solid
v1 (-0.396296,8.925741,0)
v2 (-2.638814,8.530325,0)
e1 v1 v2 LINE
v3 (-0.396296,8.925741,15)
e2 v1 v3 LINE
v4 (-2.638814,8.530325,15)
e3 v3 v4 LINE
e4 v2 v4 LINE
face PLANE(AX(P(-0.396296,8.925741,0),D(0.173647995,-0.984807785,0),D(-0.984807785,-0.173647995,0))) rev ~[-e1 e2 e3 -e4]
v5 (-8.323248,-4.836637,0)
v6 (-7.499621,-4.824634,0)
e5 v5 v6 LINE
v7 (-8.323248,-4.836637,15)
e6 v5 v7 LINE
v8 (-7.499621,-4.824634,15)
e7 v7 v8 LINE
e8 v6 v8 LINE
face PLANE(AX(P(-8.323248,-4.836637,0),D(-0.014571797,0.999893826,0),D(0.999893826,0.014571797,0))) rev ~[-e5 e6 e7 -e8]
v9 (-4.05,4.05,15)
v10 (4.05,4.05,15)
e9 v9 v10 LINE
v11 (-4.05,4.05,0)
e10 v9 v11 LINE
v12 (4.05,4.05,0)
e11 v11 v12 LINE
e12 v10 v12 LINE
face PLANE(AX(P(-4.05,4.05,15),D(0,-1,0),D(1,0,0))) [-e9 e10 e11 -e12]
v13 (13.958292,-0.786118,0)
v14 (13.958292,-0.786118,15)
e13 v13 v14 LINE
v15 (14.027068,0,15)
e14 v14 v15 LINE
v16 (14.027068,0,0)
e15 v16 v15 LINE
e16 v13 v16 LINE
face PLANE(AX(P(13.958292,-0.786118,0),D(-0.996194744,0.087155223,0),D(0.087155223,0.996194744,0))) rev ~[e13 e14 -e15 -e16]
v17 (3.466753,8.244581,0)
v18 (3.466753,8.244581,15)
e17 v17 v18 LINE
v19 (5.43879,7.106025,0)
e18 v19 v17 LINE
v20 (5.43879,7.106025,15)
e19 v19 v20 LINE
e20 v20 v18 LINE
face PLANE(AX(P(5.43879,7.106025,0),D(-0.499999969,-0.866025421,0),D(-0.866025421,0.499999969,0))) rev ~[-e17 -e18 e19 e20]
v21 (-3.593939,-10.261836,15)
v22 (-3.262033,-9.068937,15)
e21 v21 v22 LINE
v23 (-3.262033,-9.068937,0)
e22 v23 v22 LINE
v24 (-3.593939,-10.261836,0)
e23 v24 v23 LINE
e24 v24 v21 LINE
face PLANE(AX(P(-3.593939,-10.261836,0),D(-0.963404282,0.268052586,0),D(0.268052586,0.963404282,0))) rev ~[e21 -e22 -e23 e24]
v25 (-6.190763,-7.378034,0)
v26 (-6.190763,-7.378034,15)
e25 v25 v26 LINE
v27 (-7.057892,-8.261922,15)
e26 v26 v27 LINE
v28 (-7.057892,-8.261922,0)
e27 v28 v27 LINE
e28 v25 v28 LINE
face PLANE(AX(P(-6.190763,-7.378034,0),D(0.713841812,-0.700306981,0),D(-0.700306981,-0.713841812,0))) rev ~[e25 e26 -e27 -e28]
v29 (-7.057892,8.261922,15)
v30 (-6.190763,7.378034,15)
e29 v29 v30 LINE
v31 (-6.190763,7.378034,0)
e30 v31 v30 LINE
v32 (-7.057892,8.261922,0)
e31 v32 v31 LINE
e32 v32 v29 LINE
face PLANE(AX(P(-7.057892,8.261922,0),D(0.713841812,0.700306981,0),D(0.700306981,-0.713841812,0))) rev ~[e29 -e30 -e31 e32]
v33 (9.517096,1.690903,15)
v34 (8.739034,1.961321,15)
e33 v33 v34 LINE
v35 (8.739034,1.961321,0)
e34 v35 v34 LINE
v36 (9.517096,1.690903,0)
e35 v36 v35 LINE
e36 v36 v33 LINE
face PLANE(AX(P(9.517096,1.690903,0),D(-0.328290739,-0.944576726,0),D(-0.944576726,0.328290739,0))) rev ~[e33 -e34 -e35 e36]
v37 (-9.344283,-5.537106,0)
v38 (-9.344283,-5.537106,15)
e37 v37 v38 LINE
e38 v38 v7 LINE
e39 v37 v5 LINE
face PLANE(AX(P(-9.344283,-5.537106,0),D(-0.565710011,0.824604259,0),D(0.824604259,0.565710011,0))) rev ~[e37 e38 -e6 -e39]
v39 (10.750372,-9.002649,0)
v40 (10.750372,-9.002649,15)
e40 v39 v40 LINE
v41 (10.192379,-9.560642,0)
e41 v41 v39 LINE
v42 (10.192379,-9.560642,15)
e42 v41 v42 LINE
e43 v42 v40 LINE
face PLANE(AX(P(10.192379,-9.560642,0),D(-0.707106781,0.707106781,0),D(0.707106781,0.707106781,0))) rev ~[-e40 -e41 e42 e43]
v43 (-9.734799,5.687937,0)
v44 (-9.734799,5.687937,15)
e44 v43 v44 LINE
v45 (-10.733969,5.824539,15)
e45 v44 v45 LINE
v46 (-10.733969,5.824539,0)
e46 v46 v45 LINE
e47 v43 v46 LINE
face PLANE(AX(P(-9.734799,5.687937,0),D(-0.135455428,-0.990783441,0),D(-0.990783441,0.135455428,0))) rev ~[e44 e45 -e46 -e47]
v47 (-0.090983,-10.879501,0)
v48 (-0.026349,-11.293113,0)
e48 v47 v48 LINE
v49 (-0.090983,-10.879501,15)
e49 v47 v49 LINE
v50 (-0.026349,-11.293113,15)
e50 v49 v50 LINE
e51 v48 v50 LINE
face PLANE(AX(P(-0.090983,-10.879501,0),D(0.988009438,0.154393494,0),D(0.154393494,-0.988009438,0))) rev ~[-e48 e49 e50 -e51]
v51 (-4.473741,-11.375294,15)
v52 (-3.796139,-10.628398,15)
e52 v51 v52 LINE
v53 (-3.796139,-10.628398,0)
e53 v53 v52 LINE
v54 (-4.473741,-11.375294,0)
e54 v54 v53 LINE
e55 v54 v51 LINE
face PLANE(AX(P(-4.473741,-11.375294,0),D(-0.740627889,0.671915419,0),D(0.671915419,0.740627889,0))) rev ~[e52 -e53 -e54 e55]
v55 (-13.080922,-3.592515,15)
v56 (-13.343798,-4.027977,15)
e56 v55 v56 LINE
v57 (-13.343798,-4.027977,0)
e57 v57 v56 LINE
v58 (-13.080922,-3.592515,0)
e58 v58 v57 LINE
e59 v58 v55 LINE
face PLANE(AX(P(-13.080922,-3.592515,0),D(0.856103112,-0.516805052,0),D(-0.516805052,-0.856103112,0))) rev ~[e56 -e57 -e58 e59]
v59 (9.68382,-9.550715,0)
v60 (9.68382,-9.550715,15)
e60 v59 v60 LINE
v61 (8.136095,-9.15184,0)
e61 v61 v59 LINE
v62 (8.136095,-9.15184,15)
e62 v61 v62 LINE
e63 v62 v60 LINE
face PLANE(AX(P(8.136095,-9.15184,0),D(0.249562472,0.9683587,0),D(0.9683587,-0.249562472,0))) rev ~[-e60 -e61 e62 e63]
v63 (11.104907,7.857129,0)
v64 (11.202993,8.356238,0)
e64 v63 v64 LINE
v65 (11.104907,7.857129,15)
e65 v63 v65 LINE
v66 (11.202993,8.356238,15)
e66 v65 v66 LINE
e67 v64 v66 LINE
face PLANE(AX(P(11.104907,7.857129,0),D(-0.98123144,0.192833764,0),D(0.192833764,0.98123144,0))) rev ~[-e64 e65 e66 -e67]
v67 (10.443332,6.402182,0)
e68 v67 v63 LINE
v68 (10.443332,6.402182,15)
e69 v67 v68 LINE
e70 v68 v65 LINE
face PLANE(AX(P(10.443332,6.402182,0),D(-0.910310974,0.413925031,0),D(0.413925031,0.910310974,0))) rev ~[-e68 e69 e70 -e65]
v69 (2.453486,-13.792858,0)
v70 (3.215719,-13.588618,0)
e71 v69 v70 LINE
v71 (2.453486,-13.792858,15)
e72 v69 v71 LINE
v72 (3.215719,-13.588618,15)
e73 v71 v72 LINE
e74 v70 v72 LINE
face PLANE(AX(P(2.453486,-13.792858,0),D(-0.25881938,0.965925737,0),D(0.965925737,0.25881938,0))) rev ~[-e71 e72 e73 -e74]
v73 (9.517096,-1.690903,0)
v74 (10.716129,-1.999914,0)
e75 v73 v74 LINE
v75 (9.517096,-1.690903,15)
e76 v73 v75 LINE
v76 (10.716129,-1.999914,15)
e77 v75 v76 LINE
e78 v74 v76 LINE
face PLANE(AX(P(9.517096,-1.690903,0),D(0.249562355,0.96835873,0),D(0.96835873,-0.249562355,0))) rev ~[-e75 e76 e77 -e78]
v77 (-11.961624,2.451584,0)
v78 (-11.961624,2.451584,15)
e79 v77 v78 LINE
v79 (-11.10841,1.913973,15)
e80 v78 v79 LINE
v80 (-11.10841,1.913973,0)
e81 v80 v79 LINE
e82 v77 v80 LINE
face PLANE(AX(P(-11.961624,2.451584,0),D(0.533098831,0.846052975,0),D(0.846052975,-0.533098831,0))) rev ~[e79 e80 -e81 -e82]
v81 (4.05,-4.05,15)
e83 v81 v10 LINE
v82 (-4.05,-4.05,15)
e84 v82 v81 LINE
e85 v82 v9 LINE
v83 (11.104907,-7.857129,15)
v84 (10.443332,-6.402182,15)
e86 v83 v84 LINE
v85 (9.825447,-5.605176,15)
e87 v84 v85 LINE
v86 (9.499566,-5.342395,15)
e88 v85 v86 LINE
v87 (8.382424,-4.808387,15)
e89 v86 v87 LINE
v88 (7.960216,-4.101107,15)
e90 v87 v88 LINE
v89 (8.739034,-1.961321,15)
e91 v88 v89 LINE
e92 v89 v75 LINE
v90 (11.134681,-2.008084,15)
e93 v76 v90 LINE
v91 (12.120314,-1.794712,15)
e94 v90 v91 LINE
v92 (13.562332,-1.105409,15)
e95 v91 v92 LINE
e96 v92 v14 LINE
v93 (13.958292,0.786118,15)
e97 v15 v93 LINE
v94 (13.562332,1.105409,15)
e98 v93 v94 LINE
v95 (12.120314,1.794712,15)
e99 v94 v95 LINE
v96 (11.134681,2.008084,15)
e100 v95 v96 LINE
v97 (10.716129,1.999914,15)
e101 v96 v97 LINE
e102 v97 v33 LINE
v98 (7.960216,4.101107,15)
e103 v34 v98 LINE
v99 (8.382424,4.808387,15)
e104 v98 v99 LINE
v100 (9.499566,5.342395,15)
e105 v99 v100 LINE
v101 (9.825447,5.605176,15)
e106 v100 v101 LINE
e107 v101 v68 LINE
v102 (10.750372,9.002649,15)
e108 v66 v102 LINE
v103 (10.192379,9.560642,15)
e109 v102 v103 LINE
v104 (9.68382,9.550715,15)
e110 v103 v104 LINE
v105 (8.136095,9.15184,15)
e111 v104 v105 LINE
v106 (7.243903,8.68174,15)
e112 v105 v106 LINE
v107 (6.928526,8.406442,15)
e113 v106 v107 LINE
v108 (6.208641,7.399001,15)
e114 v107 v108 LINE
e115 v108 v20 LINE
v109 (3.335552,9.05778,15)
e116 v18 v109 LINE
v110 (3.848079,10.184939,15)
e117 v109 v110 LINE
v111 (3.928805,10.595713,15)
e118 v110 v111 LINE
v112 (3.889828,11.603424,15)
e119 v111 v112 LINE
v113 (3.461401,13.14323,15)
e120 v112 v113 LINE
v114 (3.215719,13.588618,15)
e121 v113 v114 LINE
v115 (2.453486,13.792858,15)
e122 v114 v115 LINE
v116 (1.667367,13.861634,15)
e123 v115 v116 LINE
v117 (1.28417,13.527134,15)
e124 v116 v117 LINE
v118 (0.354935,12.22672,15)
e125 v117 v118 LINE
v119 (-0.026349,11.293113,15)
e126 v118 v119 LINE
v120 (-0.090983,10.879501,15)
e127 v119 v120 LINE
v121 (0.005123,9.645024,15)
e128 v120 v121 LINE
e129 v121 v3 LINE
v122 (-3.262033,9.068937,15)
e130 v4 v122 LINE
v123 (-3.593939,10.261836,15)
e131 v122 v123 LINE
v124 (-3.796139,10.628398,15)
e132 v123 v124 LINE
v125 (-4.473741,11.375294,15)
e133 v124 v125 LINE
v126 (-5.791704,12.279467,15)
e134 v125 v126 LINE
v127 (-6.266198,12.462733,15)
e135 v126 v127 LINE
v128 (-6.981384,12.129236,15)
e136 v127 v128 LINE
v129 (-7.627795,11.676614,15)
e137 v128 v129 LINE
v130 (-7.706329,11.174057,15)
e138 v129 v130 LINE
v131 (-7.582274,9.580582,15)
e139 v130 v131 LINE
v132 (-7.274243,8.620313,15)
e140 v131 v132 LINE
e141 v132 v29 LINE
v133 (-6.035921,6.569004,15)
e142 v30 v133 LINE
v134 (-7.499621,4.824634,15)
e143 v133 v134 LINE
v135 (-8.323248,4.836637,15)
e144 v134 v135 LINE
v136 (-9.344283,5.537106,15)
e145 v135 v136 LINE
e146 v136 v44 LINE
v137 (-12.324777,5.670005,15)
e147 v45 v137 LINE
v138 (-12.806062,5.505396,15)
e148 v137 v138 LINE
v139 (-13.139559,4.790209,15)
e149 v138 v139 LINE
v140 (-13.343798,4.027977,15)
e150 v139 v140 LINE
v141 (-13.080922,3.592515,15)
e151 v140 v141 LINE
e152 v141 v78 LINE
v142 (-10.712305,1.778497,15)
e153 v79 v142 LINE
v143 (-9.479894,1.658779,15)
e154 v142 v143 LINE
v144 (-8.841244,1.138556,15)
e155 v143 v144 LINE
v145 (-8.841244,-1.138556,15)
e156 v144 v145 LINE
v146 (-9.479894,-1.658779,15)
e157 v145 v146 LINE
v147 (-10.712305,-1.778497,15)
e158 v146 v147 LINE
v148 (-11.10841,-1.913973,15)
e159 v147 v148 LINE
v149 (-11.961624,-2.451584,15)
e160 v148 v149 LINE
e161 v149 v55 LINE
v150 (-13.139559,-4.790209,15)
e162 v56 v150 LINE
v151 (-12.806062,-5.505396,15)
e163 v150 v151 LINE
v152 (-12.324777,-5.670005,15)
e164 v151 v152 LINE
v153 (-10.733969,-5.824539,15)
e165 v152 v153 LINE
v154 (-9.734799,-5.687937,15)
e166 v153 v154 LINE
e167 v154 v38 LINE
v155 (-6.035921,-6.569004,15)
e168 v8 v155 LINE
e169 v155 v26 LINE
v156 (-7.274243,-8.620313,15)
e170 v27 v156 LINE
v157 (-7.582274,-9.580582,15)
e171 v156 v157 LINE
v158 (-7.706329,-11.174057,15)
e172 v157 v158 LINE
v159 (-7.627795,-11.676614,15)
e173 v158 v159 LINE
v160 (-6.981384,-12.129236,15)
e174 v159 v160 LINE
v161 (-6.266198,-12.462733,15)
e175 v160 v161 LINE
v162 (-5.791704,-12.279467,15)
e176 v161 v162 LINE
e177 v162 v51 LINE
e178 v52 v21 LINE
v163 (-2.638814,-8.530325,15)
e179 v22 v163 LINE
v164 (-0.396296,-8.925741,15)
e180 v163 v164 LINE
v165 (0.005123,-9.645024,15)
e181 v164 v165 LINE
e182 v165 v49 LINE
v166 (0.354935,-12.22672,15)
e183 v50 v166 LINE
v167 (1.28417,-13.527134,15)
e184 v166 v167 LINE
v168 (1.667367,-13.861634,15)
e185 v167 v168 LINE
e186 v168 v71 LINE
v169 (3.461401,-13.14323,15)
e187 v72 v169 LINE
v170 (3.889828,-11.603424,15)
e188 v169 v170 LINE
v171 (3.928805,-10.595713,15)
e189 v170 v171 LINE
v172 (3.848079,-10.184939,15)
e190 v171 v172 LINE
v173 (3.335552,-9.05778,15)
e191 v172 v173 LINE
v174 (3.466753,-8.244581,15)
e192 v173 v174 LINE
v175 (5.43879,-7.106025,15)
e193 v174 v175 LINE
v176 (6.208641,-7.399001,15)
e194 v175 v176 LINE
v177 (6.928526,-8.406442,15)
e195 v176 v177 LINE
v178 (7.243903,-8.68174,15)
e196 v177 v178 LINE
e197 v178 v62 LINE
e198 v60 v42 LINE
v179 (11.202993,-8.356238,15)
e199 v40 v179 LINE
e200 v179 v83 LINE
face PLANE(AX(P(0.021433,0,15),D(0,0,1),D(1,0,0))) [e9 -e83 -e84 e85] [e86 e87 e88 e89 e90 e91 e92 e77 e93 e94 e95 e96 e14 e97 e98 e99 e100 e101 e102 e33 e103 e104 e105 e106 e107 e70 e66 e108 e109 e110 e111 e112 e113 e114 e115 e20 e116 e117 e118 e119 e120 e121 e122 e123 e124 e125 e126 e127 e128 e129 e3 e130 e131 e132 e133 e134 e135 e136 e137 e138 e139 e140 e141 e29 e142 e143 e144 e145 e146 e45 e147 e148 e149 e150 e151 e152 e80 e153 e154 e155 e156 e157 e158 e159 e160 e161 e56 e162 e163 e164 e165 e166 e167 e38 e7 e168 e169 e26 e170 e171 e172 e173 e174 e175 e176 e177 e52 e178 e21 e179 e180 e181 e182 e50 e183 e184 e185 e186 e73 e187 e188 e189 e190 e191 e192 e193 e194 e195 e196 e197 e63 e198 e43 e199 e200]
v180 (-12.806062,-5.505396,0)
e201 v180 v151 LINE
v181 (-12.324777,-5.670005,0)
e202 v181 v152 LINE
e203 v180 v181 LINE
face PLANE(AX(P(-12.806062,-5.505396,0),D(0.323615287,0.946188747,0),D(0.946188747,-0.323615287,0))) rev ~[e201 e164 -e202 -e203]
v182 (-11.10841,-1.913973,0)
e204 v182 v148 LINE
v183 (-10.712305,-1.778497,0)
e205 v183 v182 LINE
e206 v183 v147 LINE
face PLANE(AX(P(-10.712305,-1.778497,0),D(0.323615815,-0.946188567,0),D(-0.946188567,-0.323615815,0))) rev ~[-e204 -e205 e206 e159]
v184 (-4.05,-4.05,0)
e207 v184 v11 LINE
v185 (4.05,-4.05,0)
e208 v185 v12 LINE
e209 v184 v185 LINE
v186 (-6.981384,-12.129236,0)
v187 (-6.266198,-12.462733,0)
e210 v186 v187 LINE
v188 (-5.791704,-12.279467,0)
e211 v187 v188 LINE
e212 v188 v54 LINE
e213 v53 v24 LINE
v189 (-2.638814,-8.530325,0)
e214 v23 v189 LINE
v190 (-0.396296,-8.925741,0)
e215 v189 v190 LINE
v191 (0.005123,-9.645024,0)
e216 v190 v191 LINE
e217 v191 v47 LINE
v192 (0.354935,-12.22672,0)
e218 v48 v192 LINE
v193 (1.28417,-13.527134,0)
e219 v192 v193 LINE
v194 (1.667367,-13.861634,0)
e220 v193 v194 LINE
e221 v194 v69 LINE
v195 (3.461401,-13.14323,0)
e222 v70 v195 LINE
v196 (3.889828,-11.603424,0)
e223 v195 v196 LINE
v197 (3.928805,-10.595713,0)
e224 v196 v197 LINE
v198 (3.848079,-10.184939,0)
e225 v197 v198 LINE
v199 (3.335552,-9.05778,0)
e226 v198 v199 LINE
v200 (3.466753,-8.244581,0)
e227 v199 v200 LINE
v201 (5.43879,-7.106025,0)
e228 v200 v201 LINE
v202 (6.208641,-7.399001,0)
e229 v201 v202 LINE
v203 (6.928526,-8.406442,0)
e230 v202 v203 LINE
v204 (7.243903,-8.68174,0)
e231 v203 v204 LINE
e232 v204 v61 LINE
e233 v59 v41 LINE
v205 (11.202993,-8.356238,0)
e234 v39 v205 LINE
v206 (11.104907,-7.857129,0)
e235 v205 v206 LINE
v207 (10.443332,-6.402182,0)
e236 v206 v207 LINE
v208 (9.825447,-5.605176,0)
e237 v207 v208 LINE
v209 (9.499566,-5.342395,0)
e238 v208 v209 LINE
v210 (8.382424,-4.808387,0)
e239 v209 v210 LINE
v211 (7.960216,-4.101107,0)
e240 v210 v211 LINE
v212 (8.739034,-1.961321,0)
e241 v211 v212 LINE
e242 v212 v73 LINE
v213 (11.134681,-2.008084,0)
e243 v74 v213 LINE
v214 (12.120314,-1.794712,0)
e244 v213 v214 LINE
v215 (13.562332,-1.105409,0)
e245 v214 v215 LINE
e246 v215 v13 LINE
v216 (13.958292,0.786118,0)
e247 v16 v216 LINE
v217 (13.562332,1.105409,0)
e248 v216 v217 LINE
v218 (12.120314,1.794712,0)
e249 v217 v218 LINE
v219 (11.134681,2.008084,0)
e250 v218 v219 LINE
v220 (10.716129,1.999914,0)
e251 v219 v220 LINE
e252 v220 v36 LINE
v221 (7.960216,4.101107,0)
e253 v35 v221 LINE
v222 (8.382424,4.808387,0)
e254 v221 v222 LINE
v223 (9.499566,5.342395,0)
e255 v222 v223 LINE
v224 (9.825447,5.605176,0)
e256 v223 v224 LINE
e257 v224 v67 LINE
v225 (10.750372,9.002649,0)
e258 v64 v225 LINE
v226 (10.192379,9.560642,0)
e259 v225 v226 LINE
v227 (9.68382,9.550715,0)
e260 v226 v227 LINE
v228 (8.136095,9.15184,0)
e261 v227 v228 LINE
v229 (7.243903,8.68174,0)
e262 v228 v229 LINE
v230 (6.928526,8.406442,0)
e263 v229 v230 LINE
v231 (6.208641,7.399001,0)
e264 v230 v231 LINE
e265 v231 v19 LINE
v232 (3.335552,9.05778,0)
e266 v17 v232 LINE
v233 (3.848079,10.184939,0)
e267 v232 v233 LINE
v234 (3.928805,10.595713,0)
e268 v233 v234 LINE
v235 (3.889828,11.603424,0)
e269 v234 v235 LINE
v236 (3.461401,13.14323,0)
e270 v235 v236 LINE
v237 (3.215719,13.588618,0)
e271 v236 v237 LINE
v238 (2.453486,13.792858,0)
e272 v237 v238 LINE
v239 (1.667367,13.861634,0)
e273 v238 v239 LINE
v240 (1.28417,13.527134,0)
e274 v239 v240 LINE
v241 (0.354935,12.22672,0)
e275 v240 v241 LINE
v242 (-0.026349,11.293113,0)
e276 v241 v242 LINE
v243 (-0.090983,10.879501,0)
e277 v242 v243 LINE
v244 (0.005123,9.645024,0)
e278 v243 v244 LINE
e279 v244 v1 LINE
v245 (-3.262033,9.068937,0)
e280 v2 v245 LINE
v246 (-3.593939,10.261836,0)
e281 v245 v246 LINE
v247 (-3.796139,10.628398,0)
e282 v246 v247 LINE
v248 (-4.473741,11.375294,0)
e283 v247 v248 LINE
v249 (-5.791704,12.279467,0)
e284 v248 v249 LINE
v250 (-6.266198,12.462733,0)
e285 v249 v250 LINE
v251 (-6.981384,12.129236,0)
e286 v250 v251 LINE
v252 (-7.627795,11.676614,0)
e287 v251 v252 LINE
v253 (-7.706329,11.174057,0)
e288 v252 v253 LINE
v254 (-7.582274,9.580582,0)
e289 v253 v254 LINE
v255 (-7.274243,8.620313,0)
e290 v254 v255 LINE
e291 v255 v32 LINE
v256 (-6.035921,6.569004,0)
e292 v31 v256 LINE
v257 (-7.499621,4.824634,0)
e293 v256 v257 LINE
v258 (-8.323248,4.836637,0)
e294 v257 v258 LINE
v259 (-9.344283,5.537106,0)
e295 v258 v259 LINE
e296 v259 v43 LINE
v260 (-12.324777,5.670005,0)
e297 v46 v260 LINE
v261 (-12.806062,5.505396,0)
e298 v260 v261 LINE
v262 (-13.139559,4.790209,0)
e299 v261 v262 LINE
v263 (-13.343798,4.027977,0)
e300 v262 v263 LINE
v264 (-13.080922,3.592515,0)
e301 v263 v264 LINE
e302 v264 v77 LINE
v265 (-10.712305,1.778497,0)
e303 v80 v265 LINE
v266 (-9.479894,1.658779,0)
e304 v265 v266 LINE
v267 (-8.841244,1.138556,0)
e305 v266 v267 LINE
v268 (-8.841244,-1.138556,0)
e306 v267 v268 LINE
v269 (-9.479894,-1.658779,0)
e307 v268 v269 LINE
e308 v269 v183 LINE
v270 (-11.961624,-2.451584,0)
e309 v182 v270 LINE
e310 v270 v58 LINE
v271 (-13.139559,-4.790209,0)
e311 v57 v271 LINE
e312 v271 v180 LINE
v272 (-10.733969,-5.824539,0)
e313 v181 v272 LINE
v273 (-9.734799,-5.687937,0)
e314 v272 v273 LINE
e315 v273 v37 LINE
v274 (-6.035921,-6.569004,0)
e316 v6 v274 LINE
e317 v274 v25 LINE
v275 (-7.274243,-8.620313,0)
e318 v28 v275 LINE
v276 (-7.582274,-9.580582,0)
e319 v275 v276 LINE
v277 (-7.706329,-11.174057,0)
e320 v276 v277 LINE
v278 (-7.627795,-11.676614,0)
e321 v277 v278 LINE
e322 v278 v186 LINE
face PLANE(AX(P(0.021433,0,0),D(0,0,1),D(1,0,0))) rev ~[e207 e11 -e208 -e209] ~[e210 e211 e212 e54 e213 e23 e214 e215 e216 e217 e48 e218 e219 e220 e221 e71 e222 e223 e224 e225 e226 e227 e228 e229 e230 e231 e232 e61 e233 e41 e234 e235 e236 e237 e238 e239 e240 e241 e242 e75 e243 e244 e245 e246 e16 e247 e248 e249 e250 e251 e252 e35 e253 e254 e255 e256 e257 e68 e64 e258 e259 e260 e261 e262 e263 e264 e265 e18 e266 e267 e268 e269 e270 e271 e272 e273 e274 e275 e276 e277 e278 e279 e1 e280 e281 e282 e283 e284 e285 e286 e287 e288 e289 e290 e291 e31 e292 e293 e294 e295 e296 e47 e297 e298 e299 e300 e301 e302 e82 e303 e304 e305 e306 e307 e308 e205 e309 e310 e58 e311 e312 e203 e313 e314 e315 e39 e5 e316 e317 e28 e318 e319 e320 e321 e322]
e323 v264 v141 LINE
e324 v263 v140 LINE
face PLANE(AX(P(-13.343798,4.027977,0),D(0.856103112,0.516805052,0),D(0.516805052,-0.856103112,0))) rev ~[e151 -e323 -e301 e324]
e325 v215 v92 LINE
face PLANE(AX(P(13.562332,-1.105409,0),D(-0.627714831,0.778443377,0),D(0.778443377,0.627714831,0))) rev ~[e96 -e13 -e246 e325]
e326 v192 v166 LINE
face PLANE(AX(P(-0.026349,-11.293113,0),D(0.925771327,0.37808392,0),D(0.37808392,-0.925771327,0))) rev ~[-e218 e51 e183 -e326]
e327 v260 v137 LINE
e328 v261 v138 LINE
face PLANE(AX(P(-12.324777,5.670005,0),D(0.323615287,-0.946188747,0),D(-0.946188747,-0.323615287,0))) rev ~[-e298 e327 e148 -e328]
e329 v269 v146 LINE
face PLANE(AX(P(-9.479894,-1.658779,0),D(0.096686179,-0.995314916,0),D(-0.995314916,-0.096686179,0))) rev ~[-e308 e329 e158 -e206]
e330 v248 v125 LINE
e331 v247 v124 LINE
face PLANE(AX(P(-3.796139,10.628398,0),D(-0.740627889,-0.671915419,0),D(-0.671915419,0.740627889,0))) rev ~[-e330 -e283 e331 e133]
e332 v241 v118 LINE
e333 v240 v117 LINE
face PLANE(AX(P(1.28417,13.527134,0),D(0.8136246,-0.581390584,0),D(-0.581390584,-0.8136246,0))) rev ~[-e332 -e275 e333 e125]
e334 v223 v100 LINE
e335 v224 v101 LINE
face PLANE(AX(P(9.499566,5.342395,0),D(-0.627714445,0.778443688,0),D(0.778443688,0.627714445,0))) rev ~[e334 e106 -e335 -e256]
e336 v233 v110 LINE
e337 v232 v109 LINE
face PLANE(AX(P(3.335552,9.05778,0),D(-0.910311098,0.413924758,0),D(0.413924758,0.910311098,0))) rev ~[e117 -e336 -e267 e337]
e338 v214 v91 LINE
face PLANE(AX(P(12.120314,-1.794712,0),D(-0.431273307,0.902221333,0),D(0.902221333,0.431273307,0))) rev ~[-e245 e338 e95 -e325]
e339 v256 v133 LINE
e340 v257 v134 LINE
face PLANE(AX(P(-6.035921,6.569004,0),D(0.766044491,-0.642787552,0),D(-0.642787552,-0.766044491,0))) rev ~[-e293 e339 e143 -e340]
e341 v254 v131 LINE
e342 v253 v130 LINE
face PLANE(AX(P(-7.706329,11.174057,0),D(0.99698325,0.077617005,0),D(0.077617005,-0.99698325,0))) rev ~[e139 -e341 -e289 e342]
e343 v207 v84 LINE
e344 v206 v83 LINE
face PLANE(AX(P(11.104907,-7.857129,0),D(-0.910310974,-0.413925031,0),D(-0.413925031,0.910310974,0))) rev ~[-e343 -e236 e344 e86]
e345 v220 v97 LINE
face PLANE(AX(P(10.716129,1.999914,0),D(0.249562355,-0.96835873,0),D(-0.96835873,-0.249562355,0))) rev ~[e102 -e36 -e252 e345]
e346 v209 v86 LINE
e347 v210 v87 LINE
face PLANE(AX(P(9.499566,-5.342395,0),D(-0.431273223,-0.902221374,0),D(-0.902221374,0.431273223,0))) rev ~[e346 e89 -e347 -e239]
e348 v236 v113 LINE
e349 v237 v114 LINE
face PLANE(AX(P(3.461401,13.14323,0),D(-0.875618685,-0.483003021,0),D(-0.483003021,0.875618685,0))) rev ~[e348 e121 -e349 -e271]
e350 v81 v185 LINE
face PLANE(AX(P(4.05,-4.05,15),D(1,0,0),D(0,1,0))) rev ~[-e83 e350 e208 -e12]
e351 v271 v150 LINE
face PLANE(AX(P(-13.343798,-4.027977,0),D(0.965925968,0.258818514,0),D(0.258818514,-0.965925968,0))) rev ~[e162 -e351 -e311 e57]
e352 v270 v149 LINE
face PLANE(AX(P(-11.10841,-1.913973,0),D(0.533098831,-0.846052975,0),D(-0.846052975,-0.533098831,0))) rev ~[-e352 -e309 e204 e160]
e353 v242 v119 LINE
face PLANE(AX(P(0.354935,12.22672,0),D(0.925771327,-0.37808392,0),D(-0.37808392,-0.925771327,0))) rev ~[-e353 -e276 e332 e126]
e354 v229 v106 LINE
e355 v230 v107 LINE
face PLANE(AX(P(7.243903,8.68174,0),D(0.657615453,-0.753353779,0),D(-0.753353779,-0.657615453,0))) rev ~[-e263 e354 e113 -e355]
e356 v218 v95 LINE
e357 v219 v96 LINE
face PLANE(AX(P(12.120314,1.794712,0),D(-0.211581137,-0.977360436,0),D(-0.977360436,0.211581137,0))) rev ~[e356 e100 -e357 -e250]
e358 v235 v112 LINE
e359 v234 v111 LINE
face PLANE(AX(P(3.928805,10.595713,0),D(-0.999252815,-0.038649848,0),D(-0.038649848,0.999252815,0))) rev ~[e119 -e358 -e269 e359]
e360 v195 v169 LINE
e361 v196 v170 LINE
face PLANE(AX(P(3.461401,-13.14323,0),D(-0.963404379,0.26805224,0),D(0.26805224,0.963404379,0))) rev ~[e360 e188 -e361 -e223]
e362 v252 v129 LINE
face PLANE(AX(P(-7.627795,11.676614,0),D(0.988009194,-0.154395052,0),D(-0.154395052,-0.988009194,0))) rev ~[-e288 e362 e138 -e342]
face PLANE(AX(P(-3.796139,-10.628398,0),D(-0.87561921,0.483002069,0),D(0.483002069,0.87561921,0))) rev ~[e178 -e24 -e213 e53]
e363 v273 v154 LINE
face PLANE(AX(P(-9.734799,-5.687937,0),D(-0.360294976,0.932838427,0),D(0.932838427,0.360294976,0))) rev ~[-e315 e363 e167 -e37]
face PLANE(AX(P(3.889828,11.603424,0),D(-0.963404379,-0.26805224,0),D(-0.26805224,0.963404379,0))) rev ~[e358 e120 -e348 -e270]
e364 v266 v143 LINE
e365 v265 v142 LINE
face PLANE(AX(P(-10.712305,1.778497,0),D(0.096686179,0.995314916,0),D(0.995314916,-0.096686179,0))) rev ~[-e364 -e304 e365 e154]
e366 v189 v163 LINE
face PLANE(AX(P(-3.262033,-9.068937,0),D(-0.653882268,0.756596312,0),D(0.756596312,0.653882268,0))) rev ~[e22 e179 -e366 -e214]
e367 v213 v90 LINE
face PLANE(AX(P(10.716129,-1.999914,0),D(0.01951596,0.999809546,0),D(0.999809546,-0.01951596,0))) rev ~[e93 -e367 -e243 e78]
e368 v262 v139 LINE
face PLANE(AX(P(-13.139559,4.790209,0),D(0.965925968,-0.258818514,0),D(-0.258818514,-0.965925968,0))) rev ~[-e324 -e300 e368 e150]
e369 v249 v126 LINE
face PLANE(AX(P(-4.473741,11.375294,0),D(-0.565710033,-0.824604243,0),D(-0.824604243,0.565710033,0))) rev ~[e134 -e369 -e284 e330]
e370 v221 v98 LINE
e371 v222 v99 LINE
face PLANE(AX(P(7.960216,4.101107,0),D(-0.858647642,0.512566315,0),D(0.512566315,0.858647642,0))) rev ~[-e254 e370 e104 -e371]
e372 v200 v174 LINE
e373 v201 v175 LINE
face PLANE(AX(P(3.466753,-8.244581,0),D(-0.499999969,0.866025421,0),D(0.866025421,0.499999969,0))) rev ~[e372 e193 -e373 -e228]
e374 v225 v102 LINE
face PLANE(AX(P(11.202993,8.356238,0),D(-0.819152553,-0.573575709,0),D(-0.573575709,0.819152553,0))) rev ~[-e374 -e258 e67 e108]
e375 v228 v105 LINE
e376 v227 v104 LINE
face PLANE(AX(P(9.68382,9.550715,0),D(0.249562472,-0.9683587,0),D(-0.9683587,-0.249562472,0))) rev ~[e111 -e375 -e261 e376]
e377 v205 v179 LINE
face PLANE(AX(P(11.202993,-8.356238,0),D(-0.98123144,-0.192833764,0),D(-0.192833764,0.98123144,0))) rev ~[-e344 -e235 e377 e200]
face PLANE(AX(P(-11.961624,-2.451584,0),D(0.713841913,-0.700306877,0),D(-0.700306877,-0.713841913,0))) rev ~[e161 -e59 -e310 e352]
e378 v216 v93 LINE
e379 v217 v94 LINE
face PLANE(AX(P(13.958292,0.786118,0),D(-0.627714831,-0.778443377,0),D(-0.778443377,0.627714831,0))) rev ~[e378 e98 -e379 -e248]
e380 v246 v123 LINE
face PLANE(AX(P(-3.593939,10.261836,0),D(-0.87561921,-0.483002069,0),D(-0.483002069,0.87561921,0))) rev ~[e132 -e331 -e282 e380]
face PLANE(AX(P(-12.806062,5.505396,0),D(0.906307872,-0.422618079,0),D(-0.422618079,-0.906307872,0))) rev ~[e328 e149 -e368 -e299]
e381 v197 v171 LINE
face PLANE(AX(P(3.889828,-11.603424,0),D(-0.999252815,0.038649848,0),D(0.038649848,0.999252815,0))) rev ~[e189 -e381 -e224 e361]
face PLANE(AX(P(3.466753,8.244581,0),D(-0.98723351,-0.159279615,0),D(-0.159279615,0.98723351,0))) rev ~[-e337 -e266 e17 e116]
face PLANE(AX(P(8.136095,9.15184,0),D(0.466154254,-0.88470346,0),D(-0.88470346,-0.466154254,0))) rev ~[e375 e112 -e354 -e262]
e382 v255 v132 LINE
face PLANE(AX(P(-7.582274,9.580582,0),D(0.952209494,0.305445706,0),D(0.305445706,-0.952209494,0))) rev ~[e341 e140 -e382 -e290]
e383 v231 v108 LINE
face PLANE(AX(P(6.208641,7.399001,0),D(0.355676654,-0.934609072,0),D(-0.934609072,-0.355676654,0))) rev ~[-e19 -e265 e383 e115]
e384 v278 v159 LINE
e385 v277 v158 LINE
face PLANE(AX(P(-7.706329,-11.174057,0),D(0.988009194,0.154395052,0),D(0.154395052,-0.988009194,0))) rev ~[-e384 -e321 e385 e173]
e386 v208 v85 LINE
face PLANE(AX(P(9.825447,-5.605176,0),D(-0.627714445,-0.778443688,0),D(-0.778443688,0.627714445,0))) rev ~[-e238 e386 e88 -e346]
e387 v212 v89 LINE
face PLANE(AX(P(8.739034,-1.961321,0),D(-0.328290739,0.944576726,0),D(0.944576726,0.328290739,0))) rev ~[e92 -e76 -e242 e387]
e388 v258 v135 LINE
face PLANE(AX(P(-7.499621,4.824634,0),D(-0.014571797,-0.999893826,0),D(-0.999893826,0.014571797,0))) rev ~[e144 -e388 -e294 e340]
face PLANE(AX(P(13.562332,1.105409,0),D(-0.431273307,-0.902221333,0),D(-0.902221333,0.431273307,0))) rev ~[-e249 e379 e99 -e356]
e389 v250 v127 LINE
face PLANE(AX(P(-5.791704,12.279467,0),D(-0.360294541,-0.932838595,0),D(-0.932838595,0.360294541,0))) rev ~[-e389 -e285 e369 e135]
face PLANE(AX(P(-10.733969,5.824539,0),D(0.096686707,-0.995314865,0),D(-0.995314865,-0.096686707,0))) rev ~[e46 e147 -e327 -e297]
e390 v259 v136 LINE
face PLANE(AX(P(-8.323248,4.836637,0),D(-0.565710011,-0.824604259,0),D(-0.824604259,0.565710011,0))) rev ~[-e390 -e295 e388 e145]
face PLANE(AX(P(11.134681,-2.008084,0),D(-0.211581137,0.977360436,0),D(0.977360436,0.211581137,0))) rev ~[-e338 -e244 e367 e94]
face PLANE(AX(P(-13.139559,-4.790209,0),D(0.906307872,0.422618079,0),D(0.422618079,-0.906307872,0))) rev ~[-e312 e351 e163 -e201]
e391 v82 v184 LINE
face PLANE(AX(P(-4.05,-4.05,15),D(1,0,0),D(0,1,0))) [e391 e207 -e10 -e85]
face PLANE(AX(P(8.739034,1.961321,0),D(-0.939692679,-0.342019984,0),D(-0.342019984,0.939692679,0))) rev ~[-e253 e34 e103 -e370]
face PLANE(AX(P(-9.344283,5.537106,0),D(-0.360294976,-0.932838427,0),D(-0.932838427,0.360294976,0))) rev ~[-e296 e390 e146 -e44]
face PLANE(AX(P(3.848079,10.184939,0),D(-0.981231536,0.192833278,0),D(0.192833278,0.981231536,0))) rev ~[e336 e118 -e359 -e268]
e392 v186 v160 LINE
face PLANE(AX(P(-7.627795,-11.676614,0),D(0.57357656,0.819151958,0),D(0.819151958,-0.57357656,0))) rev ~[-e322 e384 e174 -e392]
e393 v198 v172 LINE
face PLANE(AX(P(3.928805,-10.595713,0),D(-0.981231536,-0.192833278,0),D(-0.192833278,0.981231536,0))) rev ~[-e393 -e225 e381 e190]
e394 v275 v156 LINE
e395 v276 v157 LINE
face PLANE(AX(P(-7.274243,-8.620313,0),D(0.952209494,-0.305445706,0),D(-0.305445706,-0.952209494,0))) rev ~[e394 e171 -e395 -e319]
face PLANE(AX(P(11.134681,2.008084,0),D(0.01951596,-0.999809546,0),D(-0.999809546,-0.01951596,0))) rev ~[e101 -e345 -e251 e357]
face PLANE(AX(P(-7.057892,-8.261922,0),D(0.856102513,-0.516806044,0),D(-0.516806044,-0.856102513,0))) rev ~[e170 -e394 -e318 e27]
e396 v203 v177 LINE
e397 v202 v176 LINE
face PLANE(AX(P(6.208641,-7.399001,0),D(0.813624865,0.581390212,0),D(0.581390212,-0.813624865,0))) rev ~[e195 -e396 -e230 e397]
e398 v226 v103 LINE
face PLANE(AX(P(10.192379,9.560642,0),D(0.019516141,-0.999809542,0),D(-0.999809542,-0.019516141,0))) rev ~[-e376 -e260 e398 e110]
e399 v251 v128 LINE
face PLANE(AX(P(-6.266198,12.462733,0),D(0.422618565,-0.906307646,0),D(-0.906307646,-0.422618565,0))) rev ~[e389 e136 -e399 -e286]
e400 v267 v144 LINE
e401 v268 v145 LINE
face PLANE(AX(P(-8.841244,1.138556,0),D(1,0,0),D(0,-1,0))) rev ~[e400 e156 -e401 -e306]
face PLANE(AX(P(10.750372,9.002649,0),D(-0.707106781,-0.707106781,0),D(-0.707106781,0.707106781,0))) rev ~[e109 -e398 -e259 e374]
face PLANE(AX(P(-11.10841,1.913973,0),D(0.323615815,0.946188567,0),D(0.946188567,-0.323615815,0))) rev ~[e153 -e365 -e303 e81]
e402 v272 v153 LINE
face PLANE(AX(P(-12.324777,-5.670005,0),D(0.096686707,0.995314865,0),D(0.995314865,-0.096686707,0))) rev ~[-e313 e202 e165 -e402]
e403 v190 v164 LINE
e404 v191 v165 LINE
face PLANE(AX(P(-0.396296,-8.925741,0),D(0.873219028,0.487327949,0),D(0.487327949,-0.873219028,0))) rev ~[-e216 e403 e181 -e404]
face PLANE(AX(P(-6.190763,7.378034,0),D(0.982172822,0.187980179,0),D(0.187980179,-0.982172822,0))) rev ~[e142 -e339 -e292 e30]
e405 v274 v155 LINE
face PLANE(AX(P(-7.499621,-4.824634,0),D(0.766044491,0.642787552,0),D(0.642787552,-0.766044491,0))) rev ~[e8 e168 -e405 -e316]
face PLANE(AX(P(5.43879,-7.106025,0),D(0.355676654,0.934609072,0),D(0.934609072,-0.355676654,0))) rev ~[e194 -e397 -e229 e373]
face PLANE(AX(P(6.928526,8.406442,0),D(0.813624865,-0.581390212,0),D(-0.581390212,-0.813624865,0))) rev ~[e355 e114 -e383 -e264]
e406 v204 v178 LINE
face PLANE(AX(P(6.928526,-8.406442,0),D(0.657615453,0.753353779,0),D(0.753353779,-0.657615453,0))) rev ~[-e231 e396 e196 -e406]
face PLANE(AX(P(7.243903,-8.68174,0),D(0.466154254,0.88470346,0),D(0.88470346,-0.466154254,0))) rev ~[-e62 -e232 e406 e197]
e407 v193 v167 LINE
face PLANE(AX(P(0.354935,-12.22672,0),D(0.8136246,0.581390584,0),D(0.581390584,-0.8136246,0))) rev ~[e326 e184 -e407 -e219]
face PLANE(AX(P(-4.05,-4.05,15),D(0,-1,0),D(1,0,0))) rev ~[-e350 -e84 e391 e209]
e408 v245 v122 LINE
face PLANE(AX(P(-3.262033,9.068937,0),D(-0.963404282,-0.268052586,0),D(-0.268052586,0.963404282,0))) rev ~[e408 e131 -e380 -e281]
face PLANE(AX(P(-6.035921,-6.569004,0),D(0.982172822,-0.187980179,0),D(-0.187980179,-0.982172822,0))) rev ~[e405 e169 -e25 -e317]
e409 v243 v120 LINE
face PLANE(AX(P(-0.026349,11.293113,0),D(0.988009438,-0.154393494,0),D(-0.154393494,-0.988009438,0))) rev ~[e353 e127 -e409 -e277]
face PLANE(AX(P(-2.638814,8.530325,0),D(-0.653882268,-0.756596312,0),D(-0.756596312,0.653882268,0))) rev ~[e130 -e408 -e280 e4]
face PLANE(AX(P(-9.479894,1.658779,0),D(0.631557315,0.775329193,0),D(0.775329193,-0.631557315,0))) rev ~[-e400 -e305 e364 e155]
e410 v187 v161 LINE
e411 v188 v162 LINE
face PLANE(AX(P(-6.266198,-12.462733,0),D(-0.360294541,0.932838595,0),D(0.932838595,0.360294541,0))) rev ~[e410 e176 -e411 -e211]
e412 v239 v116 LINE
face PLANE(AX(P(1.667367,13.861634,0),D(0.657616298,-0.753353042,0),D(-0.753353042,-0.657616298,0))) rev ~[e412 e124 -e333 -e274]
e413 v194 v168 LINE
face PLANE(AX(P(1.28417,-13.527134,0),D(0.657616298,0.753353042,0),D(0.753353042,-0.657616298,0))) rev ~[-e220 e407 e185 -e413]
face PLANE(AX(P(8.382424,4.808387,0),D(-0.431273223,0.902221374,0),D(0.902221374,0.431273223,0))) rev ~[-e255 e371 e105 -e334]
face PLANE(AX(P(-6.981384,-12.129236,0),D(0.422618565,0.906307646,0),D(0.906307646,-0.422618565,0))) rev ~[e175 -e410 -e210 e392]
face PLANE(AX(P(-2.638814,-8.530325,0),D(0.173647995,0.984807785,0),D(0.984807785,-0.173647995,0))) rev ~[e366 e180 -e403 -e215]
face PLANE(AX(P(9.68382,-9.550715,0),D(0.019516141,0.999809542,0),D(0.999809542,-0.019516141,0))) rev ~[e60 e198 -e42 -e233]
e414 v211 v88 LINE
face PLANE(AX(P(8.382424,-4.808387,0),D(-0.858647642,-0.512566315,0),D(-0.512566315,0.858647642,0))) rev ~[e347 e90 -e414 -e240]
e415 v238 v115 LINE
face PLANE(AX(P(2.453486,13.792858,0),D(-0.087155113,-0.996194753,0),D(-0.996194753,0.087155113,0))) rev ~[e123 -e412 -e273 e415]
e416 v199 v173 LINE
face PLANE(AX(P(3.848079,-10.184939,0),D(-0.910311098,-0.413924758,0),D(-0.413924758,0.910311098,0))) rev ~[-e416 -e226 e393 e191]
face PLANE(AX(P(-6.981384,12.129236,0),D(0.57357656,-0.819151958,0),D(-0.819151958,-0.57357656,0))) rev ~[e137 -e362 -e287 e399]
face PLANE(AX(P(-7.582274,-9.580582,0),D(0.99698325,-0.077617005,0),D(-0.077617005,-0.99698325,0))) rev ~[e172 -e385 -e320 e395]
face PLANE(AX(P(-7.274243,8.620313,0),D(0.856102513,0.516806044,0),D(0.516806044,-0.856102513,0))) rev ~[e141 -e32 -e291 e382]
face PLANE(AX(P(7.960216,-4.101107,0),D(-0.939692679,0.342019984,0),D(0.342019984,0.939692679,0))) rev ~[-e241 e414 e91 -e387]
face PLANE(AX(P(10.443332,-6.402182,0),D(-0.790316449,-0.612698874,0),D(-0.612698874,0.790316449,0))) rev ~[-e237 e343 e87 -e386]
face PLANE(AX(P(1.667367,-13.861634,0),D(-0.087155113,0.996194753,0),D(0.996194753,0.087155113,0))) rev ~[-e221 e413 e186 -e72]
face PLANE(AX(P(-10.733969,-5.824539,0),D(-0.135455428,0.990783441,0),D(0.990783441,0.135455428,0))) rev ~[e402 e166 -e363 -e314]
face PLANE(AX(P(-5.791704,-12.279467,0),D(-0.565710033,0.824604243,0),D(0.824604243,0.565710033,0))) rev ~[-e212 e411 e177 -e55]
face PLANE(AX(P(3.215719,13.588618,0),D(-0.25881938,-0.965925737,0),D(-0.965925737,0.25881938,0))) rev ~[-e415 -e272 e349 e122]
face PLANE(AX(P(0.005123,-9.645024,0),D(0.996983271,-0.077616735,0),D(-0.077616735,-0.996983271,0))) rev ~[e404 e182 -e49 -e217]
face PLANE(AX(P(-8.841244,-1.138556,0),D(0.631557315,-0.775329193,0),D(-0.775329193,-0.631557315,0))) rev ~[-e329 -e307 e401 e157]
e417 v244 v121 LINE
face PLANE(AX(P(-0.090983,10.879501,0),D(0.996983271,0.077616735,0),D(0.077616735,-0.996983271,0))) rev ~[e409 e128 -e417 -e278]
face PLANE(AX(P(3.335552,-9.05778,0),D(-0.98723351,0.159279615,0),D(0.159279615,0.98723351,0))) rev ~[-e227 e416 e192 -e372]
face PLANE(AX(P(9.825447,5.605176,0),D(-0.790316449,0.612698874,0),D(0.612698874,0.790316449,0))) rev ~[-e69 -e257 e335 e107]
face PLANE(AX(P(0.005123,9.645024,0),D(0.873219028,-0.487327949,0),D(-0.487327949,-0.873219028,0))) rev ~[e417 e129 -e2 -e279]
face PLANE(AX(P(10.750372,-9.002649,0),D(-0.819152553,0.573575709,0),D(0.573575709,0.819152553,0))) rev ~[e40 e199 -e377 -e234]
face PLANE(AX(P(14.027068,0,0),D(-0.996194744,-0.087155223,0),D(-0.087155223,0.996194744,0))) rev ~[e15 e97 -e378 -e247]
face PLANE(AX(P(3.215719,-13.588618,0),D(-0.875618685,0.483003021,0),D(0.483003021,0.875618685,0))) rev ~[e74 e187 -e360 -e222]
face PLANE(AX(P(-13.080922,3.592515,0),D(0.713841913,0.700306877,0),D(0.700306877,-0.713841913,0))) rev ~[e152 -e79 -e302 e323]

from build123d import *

# Parameters (mm, degrees)
F1_DEPTH = 15
F2_W     = 8.1
F2_H     = 8.1
F3_DEPTH = 15.001


with BuildPart() as f1:
    # F0 (on Top) → F1 (new body)
    with BuildSketch(Plane.XY):
        Polygon((9.68382, -9.550715), (10.192379, -9.560642), (10.750372, -9.002649), (11.202993, -8.356238), (11.104907, -7.857129), (10.443332, -6.402182), (9.825447, -5.605176), (9.499566, -5.342395), (8.382424, -4.808387), (7.960216, -4.101107), (8.739034, -1.961321), (9.517096, -1.690903), (10.716129, -1.999914), (11.134681, -2.008084), (12.120314, -1.794712), (13.562332, -1.105409), (13.958292, -0.786118), (14.027068, 0), (13.958292, 0.786118), (13.562332, 1.105409), (12.120314, 1.794712), (11.134681, 2.008084), (10.716129, 1.999914), (9.517096, 1.690903), (8.739034, 1.961321), (7.960216, 4.101107), (8.382424, 4.808387), (9.499566, 5.342395), (9.825447, 5.605176), (10.443332, 6.402182), (11.104907, 7.857129), (11.202993, 8.356238), (10.750372, 9.002649), (10.192379, 9.560642), (9.68382, 9.550715), (8.136095, 9.15184), (7.243903, 8.68174), (6.928526, 8.406442), (6.208641, 7.399001), (5.43879, 7.106025), (3.466753, 8.244581), (3.335552, 9.05778), (3.848079, 10.184939), (3.928805, 10.595713), (3.889828, 11.603424), (3.461401, 13.14323), (3.215719, 13.588618), (2.453486, 13.792858), (1.667367, 13.861634), (1.28417, 13.527134), (0.354935, 12.22672), (-0.026349, 11.293113), (-0.090983, 10.879501), (0.005123, 9.645024), (-0.396296, 8.925741), (-2.638814, 8.530325), (-3.262033, 9.068937), (-3.593939, 10.261836), (-3.796139, 10.628398), (-4.473741, 11.375294), (-5.791704, 12.279467), (-6.266198, 12.462733), (-6.981384, 12.129236), (-7.627795, 11.676614), (-7.706329, 11.174057), (-7.582274, 9.580582), (-7.274243, 8.620313), (-7.057892, 8.261922), (-6.190763, 7.378034), (-6.035921, 6.569004), (-7.499621, 4.824634), (-8.323248, 4.836637), (-9.344283, 5.537106), (-9.734799, 5.687937), (-10.733969, 5.824539), (-12.324777, 5.670005), (-12.806062, 5.505396), (-13.139559, 4.790209), (-13.343798, 4.027977), (-13.080922, 3.592515), (-11.961624, 2.451584), (-11.10841, 1.913973), (-10.712305, 1.778497), (-9.479894, 1.658779), (-8.841244, 1.138556), (-8.841244, -1.138556), (-9.479894, -1.658779), (-10.712305, -1.778497), (-11.10841, -1.913973), (-11.961624, -2.451584), (-13.080922, -3.592515), (-13.343798, -4.027977), (-13.139559, -4.790209), (-12.806062, -5.505396), (-12.324777, -5.670005), (-10.733969, -5.824539), (-9.734799, -5.687937), (-9.344283, -5.537106), (-8.323248, -4.836637), (-7.499621, -4.824634), (-6.035921, -6.569004), (-6.190763, -7.378034), (-7.057892, -8.261922), (-7.274243, -8.620313), (-7.582274, -9.580582), (-7.706329, -11.174057), (-7.627795, -11.676614), (-6.981384, -12.129236), (-6.266198, -12.462733), (-5.791704, -12.279467), (-4.473741, -11.375294), (-3.796139, -10.628398), (-3.593939, -10.261836), (-3.262033, -9.068937), (-2.638814, -8.530325), (-0.396296, -8.925741), (0.005123, -9.645024), (-0.090983, -10.879501), (-0.026349, -11.293113), (0.354935, -12.22672), (1.28417, -13.527134), (1.667367, -13.861634), (2.453486, -13.792858), (3.215719, -13.588618), (3.461401, -13.14323), (3.889828, -11.603424), (3.928805, -10.595713), (3.848079, -10.184939), (3.335552, -9.05778), (3.466753, -8.244581), (5.43879, -7.106025), (6.208641, -7.399001), (6.928526, -8.406442), (7.243903, -8.68174), (8.136095, -9.15184), align=None)
    extrude(amount=F1_DEPTH)

    # F2 (on face) → F3 (cut, through all)
    with BuildSketch(Plane.XY.offset(15)):
        Rectangle(F2_W, F2_H)
    extrude(amount=-F3_DEPTH, mode=Mode.SUBTRACT)


solid = f1.part
